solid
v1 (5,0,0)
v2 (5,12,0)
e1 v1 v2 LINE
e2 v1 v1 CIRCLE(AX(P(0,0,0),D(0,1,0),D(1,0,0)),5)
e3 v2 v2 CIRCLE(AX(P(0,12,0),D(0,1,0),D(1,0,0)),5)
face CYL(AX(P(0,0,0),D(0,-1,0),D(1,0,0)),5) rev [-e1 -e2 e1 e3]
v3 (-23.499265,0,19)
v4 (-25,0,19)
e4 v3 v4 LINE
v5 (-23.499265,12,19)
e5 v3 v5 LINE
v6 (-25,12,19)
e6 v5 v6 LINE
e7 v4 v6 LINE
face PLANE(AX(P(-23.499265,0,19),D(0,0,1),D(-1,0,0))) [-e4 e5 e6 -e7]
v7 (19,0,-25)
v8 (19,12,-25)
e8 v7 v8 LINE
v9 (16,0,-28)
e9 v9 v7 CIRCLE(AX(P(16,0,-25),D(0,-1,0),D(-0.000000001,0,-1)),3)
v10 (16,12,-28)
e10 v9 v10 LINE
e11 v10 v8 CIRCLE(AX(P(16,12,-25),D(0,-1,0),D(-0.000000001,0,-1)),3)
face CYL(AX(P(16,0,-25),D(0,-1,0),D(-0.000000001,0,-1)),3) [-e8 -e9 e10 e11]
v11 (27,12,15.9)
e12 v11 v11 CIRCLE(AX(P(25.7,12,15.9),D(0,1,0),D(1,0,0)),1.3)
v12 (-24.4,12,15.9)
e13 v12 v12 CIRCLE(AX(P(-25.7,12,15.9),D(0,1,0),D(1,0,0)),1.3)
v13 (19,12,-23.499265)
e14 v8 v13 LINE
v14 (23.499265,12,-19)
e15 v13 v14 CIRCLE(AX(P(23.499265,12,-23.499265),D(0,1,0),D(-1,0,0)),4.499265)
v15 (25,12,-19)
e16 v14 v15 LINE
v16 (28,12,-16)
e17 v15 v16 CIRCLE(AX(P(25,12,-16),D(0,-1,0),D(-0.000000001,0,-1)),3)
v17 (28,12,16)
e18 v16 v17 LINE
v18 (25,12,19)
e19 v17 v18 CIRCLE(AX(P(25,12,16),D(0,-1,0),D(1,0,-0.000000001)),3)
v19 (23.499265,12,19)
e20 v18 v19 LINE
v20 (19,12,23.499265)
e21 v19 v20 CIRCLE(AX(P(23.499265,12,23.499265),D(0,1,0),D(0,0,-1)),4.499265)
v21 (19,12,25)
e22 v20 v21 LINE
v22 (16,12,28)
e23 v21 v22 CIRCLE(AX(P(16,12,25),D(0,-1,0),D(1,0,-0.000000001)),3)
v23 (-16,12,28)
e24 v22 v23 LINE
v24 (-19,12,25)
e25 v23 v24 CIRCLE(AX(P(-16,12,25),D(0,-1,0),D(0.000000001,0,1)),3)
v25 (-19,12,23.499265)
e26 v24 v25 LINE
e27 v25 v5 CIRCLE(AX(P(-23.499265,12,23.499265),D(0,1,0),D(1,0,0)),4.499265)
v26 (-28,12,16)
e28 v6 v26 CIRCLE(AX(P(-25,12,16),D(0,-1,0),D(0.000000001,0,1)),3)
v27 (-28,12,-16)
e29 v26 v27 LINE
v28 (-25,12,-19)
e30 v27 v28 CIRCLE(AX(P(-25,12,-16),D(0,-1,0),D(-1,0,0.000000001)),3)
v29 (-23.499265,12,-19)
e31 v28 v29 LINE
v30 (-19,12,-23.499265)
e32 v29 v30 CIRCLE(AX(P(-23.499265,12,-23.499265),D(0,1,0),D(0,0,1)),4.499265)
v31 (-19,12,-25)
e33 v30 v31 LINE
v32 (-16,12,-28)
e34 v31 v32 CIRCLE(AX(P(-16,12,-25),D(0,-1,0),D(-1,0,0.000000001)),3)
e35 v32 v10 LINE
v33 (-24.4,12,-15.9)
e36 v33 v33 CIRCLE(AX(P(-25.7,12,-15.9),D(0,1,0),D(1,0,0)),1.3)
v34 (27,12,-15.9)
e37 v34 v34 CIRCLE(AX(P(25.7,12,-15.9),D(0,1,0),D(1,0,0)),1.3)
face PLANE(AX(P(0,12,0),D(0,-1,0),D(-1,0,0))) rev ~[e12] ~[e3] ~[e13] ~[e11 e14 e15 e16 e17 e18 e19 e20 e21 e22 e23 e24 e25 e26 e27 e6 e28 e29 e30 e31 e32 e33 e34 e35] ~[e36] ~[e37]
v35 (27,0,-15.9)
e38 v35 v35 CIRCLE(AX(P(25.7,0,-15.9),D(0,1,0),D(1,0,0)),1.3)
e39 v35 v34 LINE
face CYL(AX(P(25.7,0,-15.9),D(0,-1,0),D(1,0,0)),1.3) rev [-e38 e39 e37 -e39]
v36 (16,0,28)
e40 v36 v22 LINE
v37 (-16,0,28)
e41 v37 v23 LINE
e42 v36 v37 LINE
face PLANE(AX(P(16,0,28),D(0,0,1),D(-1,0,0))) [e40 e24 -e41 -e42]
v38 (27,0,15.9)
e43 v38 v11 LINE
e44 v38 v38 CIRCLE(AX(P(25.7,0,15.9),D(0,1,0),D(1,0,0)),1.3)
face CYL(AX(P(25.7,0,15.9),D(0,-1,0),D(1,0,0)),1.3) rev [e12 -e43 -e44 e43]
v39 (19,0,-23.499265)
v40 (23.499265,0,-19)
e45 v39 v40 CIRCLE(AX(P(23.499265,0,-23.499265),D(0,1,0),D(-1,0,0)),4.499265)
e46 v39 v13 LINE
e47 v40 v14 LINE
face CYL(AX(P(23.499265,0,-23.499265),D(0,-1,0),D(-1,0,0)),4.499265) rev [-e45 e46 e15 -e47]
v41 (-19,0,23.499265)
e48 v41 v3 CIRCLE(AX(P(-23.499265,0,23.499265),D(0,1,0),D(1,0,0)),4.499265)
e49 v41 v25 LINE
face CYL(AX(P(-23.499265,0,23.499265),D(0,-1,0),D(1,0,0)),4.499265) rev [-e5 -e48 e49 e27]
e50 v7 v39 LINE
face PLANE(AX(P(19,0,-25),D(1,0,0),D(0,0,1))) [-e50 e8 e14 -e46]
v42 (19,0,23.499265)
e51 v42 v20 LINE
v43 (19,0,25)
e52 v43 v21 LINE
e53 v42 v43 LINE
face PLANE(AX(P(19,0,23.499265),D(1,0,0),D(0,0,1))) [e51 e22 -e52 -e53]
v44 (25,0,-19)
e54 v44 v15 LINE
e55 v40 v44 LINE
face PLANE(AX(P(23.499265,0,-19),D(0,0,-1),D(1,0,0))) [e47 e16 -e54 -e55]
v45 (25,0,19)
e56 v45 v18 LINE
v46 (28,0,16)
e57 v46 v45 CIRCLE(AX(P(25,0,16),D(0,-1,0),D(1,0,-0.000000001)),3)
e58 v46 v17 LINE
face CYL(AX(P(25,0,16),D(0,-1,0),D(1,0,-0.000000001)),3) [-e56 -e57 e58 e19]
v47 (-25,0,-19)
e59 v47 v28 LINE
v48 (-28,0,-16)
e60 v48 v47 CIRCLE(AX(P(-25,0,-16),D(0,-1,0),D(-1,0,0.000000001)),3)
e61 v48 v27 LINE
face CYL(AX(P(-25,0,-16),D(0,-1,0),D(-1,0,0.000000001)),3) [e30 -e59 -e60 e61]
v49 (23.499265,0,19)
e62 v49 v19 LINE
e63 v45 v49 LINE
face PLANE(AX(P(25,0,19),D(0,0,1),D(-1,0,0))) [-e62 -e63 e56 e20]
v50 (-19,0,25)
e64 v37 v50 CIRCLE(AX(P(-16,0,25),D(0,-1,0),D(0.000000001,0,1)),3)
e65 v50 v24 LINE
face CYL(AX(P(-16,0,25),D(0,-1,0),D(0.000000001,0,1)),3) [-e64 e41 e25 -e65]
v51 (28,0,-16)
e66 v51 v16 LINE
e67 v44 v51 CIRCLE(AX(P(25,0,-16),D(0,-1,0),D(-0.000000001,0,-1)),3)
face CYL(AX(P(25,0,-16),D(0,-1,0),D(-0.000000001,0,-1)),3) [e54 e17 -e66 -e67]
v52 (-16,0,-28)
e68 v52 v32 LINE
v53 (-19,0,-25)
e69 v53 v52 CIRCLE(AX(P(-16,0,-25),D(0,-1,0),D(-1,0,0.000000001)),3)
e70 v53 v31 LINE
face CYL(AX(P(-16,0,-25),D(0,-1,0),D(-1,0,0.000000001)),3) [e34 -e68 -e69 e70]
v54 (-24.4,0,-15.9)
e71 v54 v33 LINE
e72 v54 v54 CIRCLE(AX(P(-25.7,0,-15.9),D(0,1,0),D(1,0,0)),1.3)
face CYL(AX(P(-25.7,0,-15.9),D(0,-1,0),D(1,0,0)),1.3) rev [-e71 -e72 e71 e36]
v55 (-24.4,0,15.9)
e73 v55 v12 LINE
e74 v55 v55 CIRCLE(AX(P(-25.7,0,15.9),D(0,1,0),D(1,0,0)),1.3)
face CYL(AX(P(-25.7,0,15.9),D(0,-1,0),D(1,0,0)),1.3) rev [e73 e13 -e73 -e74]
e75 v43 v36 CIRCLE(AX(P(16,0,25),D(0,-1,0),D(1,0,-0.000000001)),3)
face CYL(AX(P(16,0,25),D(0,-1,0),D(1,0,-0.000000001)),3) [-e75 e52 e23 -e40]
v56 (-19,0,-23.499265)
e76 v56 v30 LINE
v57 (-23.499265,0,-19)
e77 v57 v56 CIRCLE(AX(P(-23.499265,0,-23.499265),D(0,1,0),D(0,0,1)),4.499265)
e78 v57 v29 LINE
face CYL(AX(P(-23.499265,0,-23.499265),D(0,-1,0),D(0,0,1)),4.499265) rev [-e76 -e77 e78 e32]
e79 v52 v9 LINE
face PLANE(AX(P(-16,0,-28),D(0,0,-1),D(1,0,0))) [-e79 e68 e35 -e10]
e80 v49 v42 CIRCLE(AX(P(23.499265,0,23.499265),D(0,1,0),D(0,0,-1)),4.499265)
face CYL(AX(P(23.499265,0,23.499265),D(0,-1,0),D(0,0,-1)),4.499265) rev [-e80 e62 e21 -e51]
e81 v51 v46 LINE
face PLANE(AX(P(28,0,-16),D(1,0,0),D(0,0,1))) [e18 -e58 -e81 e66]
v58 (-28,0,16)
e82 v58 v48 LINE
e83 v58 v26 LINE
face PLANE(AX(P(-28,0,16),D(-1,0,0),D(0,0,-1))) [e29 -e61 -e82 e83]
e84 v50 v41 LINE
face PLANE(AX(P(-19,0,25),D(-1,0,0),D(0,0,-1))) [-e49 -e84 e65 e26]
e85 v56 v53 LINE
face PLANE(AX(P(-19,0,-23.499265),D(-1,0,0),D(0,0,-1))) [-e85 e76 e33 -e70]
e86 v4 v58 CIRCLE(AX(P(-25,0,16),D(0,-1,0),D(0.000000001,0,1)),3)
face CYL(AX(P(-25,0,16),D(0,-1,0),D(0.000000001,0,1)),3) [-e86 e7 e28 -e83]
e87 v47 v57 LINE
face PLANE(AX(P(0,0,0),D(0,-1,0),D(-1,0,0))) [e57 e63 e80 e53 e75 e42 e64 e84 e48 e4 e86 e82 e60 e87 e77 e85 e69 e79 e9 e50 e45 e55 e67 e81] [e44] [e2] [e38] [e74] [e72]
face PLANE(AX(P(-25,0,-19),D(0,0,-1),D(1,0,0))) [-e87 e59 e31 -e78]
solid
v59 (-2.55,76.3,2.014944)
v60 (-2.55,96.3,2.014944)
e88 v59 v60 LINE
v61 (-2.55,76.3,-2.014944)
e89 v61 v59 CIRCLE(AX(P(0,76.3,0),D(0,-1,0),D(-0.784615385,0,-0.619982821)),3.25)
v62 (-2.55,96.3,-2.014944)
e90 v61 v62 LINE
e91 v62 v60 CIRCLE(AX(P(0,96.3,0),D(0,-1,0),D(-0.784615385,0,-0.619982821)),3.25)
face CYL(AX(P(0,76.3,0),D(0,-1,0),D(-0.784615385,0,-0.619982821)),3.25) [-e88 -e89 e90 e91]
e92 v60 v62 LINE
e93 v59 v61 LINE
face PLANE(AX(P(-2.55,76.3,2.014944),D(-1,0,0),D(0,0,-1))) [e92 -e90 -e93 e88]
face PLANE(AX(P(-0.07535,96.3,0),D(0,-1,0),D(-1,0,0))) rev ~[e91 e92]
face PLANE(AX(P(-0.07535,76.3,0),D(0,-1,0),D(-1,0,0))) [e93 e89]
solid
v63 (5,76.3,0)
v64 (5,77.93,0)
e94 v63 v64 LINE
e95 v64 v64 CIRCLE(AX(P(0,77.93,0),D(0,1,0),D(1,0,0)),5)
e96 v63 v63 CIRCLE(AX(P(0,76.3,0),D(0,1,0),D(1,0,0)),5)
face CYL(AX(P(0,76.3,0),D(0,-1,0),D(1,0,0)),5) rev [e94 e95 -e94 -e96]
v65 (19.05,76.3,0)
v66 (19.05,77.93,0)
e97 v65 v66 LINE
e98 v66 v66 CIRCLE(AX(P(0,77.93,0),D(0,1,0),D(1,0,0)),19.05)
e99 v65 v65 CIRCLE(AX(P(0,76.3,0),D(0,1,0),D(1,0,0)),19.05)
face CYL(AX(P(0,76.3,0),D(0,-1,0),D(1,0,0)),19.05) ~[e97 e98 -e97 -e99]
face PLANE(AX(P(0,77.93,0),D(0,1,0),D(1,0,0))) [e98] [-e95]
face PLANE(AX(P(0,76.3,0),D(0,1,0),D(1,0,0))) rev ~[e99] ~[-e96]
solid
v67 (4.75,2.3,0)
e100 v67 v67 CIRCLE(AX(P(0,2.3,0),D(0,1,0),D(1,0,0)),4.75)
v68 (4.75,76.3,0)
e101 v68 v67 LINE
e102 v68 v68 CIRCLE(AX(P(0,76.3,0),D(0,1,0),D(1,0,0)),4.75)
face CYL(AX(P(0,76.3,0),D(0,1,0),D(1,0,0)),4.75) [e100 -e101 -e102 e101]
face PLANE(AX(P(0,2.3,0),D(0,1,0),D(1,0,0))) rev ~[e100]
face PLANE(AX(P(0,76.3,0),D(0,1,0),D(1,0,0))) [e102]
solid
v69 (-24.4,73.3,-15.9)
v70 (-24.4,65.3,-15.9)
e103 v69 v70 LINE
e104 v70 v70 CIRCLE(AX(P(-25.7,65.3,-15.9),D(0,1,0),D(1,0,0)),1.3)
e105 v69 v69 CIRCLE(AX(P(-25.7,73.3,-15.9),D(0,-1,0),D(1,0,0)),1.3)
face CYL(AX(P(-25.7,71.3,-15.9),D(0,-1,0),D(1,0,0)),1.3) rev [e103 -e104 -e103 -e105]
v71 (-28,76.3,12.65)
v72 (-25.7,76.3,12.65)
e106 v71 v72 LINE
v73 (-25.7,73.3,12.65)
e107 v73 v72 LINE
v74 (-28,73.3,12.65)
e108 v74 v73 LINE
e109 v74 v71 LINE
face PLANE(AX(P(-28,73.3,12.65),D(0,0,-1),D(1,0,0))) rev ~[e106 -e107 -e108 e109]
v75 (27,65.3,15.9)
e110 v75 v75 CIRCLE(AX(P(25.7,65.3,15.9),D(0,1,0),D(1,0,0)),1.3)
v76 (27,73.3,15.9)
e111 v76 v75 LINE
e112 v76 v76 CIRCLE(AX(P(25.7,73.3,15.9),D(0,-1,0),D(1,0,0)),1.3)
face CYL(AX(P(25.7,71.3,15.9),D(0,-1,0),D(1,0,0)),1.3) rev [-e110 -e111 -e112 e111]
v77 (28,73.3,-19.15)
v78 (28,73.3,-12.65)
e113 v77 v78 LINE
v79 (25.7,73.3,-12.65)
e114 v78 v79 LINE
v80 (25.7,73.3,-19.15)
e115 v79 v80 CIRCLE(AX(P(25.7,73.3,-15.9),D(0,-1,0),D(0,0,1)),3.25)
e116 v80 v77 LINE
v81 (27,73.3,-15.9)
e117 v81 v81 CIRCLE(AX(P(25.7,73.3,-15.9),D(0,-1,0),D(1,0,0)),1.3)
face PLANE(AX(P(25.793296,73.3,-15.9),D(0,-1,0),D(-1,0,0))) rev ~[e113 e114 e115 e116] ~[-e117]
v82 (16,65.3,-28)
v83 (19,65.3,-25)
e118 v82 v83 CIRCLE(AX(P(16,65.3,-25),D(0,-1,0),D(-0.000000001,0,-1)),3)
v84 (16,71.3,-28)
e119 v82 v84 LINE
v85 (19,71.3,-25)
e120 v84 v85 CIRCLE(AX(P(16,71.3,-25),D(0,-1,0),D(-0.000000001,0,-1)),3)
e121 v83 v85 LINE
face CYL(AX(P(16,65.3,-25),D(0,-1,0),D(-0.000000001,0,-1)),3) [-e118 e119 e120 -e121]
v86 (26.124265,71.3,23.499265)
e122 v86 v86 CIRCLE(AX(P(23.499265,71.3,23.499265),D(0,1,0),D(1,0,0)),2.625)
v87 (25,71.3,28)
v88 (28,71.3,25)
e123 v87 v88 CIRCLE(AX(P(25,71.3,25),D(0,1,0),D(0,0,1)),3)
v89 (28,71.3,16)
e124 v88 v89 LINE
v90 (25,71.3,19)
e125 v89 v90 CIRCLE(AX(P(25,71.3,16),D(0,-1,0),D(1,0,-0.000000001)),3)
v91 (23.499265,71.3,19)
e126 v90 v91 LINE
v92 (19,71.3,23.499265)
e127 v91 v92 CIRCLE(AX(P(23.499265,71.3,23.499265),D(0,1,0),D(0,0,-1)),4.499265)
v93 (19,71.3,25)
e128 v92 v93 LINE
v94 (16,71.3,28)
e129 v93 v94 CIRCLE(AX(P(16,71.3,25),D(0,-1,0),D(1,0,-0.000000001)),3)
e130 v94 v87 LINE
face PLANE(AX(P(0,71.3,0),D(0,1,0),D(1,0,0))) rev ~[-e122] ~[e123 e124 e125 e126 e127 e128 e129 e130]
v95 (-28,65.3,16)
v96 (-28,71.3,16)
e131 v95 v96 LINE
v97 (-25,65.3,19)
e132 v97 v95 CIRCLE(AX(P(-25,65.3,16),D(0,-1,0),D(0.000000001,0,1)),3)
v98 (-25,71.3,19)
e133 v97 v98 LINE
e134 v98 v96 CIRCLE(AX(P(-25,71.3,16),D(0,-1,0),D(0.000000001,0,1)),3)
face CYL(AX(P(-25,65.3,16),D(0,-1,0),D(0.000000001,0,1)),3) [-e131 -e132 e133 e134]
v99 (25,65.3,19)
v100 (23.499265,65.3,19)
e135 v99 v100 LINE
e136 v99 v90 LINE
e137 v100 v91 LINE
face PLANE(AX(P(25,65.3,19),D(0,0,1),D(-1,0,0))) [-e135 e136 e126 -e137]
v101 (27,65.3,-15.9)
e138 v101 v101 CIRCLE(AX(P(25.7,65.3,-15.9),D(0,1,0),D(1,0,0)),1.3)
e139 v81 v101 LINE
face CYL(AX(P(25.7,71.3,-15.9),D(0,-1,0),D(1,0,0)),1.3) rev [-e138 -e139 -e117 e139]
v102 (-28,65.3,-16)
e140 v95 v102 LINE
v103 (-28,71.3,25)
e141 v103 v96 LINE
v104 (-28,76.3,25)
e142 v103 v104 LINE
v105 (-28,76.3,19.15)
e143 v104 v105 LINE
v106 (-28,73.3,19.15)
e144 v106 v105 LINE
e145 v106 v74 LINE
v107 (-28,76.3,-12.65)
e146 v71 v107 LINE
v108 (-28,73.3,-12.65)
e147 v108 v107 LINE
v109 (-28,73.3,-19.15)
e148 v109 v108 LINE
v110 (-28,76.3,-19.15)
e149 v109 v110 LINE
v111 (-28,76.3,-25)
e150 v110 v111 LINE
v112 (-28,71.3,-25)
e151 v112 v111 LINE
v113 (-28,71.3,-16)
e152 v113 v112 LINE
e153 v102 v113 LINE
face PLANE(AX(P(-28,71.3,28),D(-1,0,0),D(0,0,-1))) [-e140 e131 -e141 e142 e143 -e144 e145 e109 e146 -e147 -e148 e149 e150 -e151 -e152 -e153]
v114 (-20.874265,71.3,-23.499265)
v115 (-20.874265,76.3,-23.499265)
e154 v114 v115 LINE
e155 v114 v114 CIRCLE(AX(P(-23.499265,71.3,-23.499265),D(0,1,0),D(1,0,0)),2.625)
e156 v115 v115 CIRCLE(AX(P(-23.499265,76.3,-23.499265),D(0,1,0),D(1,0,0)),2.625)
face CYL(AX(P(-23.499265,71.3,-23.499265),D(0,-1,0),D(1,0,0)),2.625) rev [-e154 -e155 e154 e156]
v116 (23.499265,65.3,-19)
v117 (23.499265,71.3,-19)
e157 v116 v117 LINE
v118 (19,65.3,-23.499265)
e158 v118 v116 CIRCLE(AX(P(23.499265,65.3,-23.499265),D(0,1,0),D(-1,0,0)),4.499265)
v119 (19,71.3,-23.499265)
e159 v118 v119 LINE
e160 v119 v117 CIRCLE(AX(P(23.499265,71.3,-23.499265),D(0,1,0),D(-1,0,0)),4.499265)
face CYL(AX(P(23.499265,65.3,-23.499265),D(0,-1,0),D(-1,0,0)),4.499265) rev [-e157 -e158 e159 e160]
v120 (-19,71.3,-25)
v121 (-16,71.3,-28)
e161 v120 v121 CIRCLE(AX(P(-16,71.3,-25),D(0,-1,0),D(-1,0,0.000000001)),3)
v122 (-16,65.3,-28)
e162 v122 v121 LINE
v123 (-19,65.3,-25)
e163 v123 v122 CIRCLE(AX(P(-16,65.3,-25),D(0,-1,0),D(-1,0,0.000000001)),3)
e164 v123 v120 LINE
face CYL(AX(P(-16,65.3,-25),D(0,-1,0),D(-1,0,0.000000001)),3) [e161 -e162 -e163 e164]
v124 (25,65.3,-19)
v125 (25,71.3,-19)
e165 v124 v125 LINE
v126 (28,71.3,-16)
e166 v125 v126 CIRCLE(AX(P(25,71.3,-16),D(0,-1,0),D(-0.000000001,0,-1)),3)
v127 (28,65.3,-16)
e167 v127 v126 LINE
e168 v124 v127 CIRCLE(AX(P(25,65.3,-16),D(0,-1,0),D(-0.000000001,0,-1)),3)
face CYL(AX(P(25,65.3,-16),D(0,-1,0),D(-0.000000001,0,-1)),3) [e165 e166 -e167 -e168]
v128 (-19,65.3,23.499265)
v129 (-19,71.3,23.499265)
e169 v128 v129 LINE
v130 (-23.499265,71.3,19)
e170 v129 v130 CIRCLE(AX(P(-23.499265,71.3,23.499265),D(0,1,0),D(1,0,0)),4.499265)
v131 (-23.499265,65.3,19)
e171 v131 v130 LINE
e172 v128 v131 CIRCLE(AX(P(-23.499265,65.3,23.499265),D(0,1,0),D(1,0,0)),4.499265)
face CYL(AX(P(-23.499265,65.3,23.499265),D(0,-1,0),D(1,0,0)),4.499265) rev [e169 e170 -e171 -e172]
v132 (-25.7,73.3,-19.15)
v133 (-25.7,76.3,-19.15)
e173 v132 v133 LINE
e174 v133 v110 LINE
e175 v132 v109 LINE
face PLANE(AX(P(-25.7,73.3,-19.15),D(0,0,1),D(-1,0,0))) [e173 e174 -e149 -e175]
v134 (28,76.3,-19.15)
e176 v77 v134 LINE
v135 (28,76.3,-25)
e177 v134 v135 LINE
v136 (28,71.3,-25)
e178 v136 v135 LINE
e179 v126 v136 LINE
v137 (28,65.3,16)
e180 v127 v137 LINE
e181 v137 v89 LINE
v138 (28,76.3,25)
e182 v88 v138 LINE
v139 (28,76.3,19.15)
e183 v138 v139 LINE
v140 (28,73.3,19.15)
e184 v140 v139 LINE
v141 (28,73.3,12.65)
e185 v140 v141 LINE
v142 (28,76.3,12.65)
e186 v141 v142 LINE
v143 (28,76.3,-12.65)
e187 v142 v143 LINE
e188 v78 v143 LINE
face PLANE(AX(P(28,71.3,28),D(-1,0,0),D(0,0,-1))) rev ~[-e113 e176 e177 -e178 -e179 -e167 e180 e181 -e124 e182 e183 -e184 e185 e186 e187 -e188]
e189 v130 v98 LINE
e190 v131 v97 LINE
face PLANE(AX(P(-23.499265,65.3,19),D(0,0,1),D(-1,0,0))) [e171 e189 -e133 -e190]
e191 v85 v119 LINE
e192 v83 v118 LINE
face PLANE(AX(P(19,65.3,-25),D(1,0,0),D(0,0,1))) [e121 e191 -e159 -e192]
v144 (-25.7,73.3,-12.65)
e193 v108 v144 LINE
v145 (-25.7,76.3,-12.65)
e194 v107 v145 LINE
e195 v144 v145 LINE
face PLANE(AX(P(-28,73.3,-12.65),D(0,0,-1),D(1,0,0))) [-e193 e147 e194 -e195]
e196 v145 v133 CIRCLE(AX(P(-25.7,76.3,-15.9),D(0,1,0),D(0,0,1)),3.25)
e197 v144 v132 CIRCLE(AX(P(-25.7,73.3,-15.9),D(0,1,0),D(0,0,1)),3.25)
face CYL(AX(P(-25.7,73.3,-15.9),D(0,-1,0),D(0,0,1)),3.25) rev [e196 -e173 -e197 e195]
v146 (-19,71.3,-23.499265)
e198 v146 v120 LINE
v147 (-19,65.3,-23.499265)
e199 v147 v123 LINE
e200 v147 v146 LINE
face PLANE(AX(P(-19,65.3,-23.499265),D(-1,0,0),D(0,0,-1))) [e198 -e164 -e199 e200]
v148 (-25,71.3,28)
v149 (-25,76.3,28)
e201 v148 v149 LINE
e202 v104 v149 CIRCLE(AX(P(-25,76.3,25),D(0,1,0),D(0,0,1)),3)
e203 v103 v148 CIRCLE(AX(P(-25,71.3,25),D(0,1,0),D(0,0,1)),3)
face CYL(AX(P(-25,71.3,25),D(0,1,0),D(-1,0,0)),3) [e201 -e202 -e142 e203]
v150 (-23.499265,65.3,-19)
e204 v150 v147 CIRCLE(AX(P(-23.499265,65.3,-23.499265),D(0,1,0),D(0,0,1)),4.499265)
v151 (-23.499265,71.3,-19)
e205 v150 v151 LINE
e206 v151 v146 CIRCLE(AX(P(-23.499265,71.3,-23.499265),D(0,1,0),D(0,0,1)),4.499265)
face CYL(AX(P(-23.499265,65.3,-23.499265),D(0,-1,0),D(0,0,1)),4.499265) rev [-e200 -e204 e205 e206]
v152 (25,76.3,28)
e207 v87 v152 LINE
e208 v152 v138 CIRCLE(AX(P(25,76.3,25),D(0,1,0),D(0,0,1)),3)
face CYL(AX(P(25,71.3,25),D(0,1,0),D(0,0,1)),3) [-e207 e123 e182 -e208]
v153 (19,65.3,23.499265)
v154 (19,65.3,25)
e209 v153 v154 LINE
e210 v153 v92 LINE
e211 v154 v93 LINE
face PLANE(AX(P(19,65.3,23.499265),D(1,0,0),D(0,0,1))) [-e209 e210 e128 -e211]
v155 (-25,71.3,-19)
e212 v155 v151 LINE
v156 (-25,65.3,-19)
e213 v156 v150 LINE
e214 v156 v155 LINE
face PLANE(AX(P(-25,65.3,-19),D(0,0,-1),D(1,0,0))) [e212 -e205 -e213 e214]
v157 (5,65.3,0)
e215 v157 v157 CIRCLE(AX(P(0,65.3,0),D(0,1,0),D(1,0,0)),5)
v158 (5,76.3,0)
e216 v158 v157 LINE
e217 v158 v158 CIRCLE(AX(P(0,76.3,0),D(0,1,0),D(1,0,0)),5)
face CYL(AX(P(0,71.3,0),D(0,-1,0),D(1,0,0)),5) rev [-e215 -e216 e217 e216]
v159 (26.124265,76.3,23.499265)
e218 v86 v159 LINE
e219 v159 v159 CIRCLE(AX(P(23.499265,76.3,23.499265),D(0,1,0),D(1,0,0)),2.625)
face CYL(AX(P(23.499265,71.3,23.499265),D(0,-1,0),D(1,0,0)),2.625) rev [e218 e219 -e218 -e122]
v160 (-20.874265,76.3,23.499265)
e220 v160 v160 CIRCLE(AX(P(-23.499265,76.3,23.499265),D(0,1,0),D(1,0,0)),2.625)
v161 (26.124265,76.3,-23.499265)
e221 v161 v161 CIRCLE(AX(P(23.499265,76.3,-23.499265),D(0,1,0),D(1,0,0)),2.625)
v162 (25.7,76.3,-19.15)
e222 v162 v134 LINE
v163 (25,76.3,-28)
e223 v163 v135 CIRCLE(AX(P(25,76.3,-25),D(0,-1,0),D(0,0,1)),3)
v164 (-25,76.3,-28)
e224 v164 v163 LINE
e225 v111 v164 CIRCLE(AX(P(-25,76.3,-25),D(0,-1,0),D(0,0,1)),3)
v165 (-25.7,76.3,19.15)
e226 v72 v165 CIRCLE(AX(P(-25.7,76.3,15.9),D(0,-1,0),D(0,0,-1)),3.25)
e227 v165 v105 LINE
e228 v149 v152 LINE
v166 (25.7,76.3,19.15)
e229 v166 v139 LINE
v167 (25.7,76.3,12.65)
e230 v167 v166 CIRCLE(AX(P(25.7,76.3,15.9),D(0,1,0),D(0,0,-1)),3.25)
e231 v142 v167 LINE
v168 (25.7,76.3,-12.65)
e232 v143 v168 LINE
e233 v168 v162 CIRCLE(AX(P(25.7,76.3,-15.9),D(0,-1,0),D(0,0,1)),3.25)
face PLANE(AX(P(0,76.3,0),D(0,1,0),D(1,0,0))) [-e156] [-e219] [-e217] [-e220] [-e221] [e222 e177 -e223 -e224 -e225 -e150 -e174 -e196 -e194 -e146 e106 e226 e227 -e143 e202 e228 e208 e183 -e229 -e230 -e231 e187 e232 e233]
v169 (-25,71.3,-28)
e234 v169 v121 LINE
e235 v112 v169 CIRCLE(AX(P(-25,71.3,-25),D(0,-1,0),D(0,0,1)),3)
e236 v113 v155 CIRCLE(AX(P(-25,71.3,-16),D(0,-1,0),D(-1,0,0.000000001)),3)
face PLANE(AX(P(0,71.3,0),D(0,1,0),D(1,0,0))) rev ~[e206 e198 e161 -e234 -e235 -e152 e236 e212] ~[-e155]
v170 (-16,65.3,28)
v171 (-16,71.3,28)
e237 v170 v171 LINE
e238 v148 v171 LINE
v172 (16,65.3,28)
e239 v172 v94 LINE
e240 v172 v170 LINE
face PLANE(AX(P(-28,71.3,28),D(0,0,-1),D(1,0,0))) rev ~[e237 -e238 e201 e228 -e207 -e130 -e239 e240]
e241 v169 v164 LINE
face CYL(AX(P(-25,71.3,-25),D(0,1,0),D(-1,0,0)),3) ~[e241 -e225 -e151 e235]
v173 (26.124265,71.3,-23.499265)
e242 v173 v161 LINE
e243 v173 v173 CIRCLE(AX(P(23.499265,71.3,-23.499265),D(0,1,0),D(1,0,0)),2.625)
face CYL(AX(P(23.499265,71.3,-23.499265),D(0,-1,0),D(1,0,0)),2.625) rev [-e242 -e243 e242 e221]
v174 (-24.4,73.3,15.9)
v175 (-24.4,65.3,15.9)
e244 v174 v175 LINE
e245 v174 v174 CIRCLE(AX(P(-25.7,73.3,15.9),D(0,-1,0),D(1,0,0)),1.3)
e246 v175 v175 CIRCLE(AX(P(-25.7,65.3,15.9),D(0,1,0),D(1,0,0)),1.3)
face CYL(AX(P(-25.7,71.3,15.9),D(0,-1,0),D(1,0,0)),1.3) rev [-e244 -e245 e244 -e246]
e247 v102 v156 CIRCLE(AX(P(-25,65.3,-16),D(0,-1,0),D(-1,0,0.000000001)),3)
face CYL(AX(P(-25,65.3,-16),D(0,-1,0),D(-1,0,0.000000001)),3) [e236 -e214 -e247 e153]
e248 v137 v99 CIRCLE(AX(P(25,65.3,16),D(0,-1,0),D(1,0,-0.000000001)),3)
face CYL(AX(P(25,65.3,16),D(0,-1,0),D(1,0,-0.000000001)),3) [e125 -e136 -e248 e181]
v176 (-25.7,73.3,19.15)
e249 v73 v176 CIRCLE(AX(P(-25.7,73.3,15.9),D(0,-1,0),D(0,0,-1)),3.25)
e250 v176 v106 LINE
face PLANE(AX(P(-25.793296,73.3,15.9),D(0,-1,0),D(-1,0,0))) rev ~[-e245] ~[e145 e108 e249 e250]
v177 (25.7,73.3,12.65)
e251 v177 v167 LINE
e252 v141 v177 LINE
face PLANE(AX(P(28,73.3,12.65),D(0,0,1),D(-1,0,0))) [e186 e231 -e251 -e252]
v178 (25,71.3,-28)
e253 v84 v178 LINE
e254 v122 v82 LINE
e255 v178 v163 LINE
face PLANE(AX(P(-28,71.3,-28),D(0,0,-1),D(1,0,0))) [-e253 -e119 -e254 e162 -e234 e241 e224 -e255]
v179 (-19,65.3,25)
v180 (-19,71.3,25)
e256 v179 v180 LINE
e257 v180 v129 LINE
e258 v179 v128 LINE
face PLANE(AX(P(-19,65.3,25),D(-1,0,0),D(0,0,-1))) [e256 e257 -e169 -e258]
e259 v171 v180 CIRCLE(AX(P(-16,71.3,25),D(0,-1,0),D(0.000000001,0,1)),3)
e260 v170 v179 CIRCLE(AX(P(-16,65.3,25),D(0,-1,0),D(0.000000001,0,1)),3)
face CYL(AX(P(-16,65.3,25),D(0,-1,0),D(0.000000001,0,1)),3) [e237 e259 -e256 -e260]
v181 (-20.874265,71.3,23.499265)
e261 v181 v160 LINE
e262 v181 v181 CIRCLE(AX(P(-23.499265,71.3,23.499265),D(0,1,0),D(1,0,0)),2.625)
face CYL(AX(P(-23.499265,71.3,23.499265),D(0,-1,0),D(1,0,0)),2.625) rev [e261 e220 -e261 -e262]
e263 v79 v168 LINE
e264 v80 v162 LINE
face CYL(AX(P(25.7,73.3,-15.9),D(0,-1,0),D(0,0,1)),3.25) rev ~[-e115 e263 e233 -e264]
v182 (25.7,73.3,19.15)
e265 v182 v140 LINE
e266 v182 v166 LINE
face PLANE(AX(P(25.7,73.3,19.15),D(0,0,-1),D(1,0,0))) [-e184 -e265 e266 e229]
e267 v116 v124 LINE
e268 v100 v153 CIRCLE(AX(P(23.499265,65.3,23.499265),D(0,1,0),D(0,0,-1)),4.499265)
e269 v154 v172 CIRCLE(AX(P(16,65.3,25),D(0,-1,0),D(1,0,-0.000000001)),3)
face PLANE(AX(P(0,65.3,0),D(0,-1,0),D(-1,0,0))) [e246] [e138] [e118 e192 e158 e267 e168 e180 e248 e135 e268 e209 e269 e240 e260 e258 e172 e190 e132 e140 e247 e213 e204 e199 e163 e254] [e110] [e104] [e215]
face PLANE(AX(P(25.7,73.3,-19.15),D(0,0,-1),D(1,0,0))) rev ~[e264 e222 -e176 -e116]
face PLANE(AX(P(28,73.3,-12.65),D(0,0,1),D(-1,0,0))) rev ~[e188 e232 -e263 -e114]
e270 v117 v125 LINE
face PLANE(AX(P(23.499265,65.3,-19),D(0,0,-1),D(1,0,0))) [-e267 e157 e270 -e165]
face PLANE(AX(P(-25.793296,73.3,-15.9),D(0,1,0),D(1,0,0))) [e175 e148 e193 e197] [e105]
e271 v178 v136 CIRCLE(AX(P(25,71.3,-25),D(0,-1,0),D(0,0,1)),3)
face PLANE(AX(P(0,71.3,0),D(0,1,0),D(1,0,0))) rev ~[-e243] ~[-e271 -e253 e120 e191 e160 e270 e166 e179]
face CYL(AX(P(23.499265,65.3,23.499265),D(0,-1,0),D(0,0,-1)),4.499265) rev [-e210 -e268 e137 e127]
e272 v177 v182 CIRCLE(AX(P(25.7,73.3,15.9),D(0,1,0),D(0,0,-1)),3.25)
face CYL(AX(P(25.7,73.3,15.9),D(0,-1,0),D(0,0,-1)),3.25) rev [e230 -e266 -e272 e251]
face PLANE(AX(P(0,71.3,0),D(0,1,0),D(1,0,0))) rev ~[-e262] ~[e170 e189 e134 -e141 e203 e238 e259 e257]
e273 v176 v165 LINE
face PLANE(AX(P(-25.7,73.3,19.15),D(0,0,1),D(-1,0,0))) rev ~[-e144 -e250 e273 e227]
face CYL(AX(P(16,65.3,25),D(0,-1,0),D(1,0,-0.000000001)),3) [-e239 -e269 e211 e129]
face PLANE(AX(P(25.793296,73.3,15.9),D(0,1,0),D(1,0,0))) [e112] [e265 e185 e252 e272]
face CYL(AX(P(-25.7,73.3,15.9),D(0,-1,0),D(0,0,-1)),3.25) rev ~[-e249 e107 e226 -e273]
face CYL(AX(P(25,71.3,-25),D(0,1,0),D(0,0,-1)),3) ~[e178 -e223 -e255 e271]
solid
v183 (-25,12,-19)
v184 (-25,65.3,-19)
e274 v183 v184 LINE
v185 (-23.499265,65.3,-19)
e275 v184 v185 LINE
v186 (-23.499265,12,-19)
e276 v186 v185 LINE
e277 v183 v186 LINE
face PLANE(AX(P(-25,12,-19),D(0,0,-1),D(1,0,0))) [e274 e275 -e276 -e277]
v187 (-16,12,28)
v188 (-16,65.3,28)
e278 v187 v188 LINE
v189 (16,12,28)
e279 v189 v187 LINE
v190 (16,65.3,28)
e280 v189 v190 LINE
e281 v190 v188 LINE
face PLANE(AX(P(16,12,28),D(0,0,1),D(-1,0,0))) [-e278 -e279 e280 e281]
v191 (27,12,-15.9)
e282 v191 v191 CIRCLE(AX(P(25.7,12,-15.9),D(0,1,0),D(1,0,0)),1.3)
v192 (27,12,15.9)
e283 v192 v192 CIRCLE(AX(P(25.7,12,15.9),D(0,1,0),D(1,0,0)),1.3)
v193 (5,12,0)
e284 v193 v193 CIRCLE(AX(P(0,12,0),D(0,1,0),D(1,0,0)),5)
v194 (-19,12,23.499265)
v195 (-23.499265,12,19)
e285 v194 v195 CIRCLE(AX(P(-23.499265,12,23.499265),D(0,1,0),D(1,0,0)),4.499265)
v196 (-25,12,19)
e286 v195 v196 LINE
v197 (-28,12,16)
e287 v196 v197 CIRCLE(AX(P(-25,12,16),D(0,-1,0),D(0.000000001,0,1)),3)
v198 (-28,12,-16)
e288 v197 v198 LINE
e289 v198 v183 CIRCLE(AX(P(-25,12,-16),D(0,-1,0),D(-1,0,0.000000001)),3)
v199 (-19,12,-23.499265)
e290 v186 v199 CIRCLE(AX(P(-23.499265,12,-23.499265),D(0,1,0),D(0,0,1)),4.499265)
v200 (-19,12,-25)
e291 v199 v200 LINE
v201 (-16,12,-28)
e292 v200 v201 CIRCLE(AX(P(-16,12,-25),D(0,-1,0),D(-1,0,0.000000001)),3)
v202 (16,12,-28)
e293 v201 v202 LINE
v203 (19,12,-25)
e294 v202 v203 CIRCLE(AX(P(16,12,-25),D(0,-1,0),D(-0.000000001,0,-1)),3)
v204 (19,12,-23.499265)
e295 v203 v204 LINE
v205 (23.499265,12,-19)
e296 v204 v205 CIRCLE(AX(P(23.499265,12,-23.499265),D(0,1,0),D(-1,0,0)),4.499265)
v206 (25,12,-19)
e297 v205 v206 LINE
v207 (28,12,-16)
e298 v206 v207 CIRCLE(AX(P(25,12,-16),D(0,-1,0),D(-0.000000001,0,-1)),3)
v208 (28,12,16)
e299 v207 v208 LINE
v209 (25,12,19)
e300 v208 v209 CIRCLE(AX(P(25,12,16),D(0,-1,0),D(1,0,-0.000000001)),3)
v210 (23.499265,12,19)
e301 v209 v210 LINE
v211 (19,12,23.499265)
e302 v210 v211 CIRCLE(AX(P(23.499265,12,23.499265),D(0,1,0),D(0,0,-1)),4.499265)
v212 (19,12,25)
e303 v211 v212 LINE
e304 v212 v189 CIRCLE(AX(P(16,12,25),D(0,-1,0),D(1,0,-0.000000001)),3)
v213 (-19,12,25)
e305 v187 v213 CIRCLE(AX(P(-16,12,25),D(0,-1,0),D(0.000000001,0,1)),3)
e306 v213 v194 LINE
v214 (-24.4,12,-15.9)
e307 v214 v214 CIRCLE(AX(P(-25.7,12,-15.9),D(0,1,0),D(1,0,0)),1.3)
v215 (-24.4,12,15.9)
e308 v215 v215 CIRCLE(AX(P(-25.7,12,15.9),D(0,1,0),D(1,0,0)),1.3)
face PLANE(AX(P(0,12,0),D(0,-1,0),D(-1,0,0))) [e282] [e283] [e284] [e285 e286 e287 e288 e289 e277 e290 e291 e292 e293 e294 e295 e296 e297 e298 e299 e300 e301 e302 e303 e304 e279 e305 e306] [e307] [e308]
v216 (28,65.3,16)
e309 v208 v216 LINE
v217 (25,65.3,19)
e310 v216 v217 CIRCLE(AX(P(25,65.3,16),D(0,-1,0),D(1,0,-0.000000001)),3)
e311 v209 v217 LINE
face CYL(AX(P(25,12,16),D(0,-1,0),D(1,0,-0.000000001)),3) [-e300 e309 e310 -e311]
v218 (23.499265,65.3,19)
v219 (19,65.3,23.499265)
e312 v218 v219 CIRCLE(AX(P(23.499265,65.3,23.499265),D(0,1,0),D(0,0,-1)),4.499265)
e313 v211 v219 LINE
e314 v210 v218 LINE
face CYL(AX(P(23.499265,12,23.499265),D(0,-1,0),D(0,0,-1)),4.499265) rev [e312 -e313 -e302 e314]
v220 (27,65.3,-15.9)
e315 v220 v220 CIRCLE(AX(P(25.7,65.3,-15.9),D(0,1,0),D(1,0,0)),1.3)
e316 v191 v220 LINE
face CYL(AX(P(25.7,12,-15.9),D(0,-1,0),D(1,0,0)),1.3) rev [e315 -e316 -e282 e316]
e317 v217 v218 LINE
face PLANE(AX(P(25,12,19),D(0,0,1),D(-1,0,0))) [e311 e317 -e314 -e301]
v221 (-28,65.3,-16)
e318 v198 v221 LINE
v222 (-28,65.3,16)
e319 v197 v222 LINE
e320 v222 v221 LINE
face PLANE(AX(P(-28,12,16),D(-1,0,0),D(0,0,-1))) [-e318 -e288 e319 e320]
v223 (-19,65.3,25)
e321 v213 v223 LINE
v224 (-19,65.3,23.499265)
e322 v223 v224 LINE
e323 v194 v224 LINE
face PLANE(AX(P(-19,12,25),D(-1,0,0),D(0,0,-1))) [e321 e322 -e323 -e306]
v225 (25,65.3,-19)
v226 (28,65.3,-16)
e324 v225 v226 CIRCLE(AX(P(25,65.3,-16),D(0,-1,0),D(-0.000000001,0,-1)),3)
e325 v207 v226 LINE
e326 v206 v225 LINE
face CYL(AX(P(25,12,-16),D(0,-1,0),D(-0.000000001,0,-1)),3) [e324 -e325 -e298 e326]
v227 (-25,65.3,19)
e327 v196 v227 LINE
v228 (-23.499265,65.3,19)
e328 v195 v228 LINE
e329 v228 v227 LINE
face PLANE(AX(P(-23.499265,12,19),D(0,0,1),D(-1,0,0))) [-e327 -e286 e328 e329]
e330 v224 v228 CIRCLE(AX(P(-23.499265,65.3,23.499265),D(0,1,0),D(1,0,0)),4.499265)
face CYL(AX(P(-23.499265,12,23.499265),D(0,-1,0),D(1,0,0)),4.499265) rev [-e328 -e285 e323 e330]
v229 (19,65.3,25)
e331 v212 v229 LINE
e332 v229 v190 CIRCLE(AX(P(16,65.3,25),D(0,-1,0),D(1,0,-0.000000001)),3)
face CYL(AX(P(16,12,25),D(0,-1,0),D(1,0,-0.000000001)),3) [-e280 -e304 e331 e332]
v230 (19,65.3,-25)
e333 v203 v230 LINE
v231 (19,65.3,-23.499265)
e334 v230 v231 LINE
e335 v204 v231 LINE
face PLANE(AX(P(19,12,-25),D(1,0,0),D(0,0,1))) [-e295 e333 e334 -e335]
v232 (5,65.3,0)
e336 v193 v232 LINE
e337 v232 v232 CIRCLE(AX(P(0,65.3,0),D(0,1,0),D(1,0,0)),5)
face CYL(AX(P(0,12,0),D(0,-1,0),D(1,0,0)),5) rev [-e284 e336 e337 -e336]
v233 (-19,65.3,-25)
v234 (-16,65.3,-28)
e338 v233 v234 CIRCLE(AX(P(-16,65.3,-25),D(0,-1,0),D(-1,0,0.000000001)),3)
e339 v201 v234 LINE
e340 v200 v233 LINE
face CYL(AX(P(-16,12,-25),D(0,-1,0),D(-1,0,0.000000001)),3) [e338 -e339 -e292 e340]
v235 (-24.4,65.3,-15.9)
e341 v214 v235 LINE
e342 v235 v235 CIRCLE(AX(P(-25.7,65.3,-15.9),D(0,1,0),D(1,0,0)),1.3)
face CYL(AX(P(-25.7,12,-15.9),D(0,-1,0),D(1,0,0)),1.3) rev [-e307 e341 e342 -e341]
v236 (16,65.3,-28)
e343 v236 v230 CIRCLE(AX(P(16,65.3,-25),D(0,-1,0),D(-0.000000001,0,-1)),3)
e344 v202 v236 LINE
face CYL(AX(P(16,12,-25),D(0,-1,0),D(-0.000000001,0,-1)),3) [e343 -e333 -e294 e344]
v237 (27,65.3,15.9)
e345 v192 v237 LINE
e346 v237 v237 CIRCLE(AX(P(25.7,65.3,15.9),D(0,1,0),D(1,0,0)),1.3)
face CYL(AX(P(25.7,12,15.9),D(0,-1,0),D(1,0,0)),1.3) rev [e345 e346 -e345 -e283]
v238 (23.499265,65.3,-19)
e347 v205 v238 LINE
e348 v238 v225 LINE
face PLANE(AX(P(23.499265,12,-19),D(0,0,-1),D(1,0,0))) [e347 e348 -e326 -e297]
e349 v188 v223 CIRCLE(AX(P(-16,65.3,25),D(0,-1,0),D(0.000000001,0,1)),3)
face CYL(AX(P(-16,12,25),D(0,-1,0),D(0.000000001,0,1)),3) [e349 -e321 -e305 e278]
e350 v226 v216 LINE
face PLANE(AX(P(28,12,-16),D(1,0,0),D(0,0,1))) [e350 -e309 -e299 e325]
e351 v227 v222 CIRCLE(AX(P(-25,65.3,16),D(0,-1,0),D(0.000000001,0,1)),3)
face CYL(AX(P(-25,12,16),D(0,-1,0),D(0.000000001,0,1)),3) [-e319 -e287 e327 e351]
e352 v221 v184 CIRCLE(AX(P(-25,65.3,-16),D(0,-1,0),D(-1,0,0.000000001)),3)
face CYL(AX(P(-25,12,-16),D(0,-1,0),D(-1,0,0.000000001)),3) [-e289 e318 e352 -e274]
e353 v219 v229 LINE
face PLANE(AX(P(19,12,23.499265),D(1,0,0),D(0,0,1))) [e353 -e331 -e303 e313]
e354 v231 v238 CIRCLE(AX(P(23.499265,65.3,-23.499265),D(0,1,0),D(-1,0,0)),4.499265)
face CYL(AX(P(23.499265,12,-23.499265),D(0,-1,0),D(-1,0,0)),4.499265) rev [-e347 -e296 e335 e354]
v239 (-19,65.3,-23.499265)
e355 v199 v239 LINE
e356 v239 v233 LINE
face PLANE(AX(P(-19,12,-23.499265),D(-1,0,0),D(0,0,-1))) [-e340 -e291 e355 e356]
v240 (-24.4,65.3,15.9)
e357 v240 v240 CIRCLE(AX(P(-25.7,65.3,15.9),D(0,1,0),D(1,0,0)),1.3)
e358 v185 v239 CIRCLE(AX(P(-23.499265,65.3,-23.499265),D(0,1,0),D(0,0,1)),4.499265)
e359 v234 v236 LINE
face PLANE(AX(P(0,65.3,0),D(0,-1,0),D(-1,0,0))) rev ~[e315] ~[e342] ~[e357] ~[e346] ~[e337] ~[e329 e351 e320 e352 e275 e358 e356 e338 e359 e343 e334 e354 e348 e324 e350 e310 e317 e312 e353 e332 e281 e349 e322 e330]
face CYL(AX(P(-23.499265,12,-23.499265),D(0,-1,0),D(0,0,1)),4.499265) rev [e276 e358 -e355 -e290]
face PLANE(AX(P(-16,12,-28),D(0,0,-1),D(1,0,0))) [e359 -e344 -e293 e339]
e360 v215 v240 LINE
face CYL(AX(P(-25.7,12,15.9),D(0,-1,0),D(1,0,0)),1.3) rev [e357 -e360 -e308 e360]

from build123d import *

# Parameters (mm, degrees)
SKETCH2_R           = 1.3
SKETCH2_R_2         = 5
BOSS_EXTRUDE2_DEPTH = 12
BOSS_EXTRUDE3_START = 12
SKETCH2_5_R         = 1.3
SKETCH2_5_R_2       = 5
BOSS_EXTRUDE3_DEPTH = 53.3
BOSS_EXTRUDE4_START = 65.3
SKETCH2_6_R         = 1.3
SKETCH2_6_R_2       = 5
BOSS_EXTRUDE4_DEPTH = 6
SKETCH4_W           = 56
SKETCH4_H           = 56
SKETCH4_R           = 2.625
SKETCH4_R_2         = 5
SKETCH4_R_3         = 1.3
BOSS_EXTRUDE5_DEPTH = 5
CUT_EXTRUDE1_START  = 2
CUT_EXTRUDE1_DEPTH  = 3
BOSS_EXTRUDE6_DEPTH = 20
SKETCH7_R           = 4.75
BOSS_EXTRUDE7_DEPTH = 74
SKETCH8_R           = 19.05
SKETCH8_R_2         = 5
BOSS_EXTRUDE8_DEPTH = 1.63
FILLET1_R           = 3


with BuildPart() as part:
    # Sketch2 → Boss-Extrude2 (new body)
    with BuildSketch(Plane(origin=(0, 0, 0), x_dir=(1, 0, 0), z_dir=(0, 1, 0))):
        with BuildLine():
            Line((-16, 28), (16, 28))
            ThreePointArc((16, 28), (18.121320344, 27.121320344), (19, 25))
            Line((19, 25), (19, 23.499265338))
            ThreePointArc((19, 23.499265338), (20.317804307, 20.317804307), (23.499265338, 19))
            Line((23.499265338, 19), (25, 19))
            ThreePointArc((25, 19), (27.121320344, 18.121320344), (28, 16))
            Line((28, 16), (28, -16))
            ThreePointArc((28, -16), (27.121320344, -18.121320344), (25, -19))
            Line((25, -19), (23.499265338, -19))
            ThreePointArc((23.499265338, -19), (20.317804307, -20.317804307), (19, -23.499265338))
            Line((19, -23.499265338), (19, -25))
            ThreePointArc((19, -25), (18.121320344, -27.121320344), (16, -28))
            Line((16, -28), (-16, -28))
            ThreePointArc((-16, -28), (-18.121320344, -27.121320344), (-19, -25))
            Line((-19, -25), (-19, -23.499265338))
            ThreePointArc((-19, -23.499265338), (-20.317804307, -20.317804307), (-23.499265338, -19))
            Line((-23.499265338, -19), (-25, -19))
            ThreePointArc((-25, -19), (-27.121320344, -18.121320344), (-28, -16))
            Line((-28, -16), (-28, 16))
            ThreePointArc((-28, 16), (-27.121320344, 18.121320344), (-25, 19))
            Line((-25, 19), (-23.499265338, 19))
            ThreePointArc((-23.499265338, 19), (-20.317804307, 20.317804307), (-19, 23.499265338))
            Line((-19, 23.499265338), (-19, 25))
            ThreePointArc((-19, 25), (-18.121320344, 27.121320344), (-16, 28))
        make_face()
        with Locations((-25.7, 15.9)):
            Circle(SKETCH2_R, mode=Mode.SUBTRACT)
        with Locations((25.7, 15.9)):
            Circle(SKETCH2_R, mode=Mode.SUBTRACT)
        with Locations((-25.7, -15.9)):
            Circle(SKETCH2_R, mode=Mode.SUBTRACT)
        with Locations((25.7, -15.9)):
            Circle(SKETCH2_R, mode=Mode.SUBTRACT)
        Circle(SKETCH2_R_2, mode=Mode.SUBTRACT)
    extrude(amount=BOSS_EXTRUDE2_DEPTH)


with BuildPart() as body_2:
    # Sketch2_5 → Boss-Extrude3 (new body)
    with BuildSketch(Plane(origin=(0, 0, 0), x_dir=(1, 0, 0), z_dir=(0, 1, 0)).offset(BOSS_EXTRUDE3_START)):
        with BuildLine():
            Line((-16, 28), (16, 28))
            ThreePointArc((16, 28), (18.121320344, 27.121320344), (19, 25))
            Line((19, 25), (19, 23.499265338))
            ThreePointArc((19, 23.499265338), (20.317804307, 20.317804307), (23.499265338, 19))
            Line((23.499265338, 19), (25, 19))
            ThreePointArc((25, 19), (27.121320344, 18.121320344), (28, 16))
            Line((28, 16), (28, -16))
            ThreePointArc((28, -16), (27.121320344, -18.121320344), (25, -19))
            Line((25, -19), (23.499265338, -19))
            ThreePointArc((23.499265338, -19), (20.317804307, -20.317804307), (19, -23.499265338))
            Line((19, -23.499265338), (19, -25))
            ThreePointArc((19, -25), (18.121320344, -27.121320344), (16, -28))
            Line((16, -28), (-16, -28))
            ThreePointArc((-16, -28), (-18.121320344, -27.121320344), (-19, -25))
            Line((-19, -25), (-19, -23.499265338))
            ThreePointArc((-19, -23.499265338), (-20.317804307, -20.317804307), (-23.499265338, -19))
            Line((-23.499265338, -19), (-25, -19))
            ThreePointArc((-25, -19), (-27.121320344, -18.121320344), (-28, -16))
            Line((-28, -16), (-28, 16))
            ThreePointArc((-28, 16), (-27.121320344, 18.121320344), (-25, 19))
            Line((-25, 19), (-23.499265338, 19))
            ThreePointArc((-23.499265338, 19), (-20.317804307, 20.317804307), (-19, 23.499265338))
            Line((-19, 23.499265338), (-19, 25))
            ThreePointArc((-19, 25), (-18.121320344, 27.121320344), (-16, 28))
        make_face()
        with Locations((-25.7, 15.9)):
            Circle(SKETCH2_5_R, mode=Mode.SUBTRACT)
        with Locations((25.7, 15.9)):
            Circle(SKETCH2_5_R, mode=Mode.SUBTRACT)
        with Locations((-25.7, -15.9)):
            Circle(SKETCH2_5_R, mode=Mode.SUBTRACT)
        with Locations((25.7, -15.9)):
            Circle(SKETCH2_5_R, mode=Mode.SUBTRACT)
        Circle(SKETCH2_5_R_2, mode=Mode.SUBTRACT)
    extrude(amount=BOSS_EXTRUDE3_DEPTH)


with BuildPart() as body_3:
    # Sketch2_6 → Boss-Extrude4 (new body)
    with BuildSketch(Plane(origin=(0, 0, 0), x_dir=(1, 0, 0), z_dir=(0, 1, 0)).offset(BOSS_EXTRUDE4_START)):
        with BuildLine():
            Line((-16, 28), (16, 28))
            ThreePointArc((16, 28), (18.121320344, 27.121320344), (19, 25))
            Line((19, 25), (19, 23.499265338))
            ThreePointArc((19, 23.499265338), (20.317804307, 20.317804307), (23.499265338, 19))
            Line((23.499265338, 19), (25, 19))
            ThreePointArc((25, 19), (27.121320344, 18.121320344), (28, 16))
            Line((28, 16), (28, -16))
            ThreePointArc((28, -16), (27.121320344, -18.121320344), (25, -19))
            Line((25, -19), (23.499265338, -19))
            ThreePointArc((23.499265338, -19), (20.317804307, -20.317804307), (19, -23.499265338))
            Line((19, -23.499265338), (19, -25))
            ThreePointArc((19, -25), (18.121320344, -27.121320344), (16, -28))
            Line((16, -28), (-16, -28))
            ThreePointArc((-16, -28), (-18.121320344, -27.121320344), (-19, -25))
            Line((-19, -25), (-19, -23.499265338))
            ThreePointArc((-19, -23.499265338), (-20.317804307, -20.317804307), (-23.499265338, -19))
            Line((-23.499265338, -19), (-25, -19))
            ThreePointArc((-25, -19), (-27.121320344, -18.121320344), (-28, -16))
            Line((-28, -16), (-28, 16))
            ThreePointArc((-28, 16), (-27.121320344, 18.121320344), (-25, 19))
            Line((-25, 19), (-23.499265338, 19))
            ThreePointArc((-23.499265338, 19), (-20.317804307, 20.317804307), (-19, 23.499265338))
            Line((-19, 23.499265338), (-19, 25))
            ThreePointArc((-19, 25), (-18.121320344, 27.121320344), (-16, 28))
        make_face()
        with Locations((-25.7, 15.9)):
            Circle(SKETCH2_6_R, mode=Mode.SUBTRACT)
        with Locations((25.7, 15.9)):
            Circle(SKETCH2_6_R, mode=Mode.SUBTRACT)
        with Locations((-25.7, -15.9)):
            Circle(SKETCH2_6_R, mode=Mode.SUBTRACT)
        with Locations((25.7, -15.9)):
            Circle(SKETCH2_6_R, mode=Mode.SUBTRACT)
        Circle(SKETCH2_6_R_2, mode=Mode.SUBTRACT)
    extrude(amount=BOSS_EXTRUDE4_DEPTH)

    # Sketch4 → Boss-Extrude5 (add)
    with BuildSketch(Plane(origin=(0, 71.3, 0), x_dir=(1, 0, 0), z_dir=(0, 1, 0))):
        Rectangle(SKETCH4_W, SKETCH4_H)
        with Locations((-23.499265338, -23.499265338)):
            Circle(SKETCH4_R, mode=Mode.SUBTRACT)
        with Locations((23.499265338, -23.499265338)):
            Circle(SKETCH4_R, mode=Mode.SUBTRACT)
        with Locations((-23.499265338, 23.499265338)):
            Circle(SKETCH4_R, mode=Mode.SUBTRACT)
        Circle(SKETCH4_R_2, mode=Mode.SUBTRACT)
        with Locations((23.499265338, 23.499265338)):
            Circle(SKETCH4_R, mode=Mode.SUBTRACT)
        with Locations((-25.7, 15.9)):
            Circle(SKETCH4_R_3, mode=Mode.SUBTRACT)
        with Locations((25.7, 15.9)):
            Circle(SKETCH4_R_3, mode=Mode.SUBTRACT)
        with Locations((-25.7, -15.9)):
            Circle(SKETCH4_R_3, mode=Mode.SUBTRACT)
        with Locations((25.7, -15.9)):
            Circle(SKETCH4_R_3, mode=Mode.SUBTRACT)
    extrude(amount=BOSS_EXTRUDE5_DEPTH)

    # Sketch5 → Cut-Extrude1 (cut)
    with BuildSketch(Plane(origin=(0, 71.3, 0), x_dir=(1, 0, 0), z_dir=(0, 1, 0)).offset(CUT_EXTRUDE1_START)):
        with BuildLine():
            Line((-28, 19.15), (-28, 12.65))
            Line((-28, 12.65), (-25.7, 12.65))
            ThreePointArc((-25.7, 12.65), (-22.45, 15.9), (-25.7, 19.15))
            Line((-25.7, 19.15), (-28, 19.15))
        make_face()
        with BuildLine():
            Line((25.7, 19.15), (28, 19.15))
            Line((28, 19.15), (28, 12.65))
            Line((28, 12.65), (25.7, 12.65))
            ThreePointArc((25.7, 12.65), (22.45, 15.9), (25.7, 19.15))
        make_face()
        with BuildLine():
            Line((28, -19.15), (28, -12.65))
            Line((28, -12.65), (25.7, -12.65))
            ThreePointArc((25.7, -12.65), (22.45, -15.9), (25.7, -19.15))
            Line((25.7, -19.15), (28, -19.15))
        make_face()
        with BuildLine():
            Line((-25.7, -19.15), (-28, -19.15))
            Line((-28, -19.15), (-28, -12.65))
            Line((-28, -12.65), (-25.7, -12.65))
            ThreePointArc((-25.7, -12.65), (-22.45, -15.9), (-25.7, -19.15))
        make_face()
    extrude(amount=CUT_EXTRUDE1_DEPTH, mode=Mode.SUBTRACT)

    # Fillet1
    fillet1_edges = [body_3.edges().sort_by_distance(p)[0] for p in [
        (-28, 73.8, -28),
        (-28, 73.8, 28),
        (28, 73.8, 28),
        (28, 73.8, -28),
    ]]
    fillet(fillet1_edges, radius=FILLET1_R)


with BuildPart() as body_4:
    # Sketch6 → Boss-Extrude6 (new body)
    with BuildSketch(Plane(origin=(0, 76.3, 0), x_dir=(1, 0, 0), z_dir=(0, 1, 0))):
        with BuildLine():
            Line((-2.55, -2.014944168), (-2.55, 2.014944168))
            ThreePointArc((-2.55, 2.014944168), (3.25, 0), (-2.55, -2.014944168))
        make_face()
    extrude(amount=BOSS_EXTRUDE6_DEPTH)


with BuildPart() as body_5:
    # Sketch7 → Boss-Extrude7 (new body)
    with BuildSketch(Plane(origin=(0, 76.3, 0), x_dir=(1, 0, 0), z_dir=(0, 1, 0))):
        Circle(SKETCH7_R)
    extrude(amount=-BOSS_EXTRUDE7_DEPTH)


with BuildPart() as body_6:
    # Sketch8 → Boss-Extrude8 (new body)
    with BuildSketch(Plane(origin=(0, 76.3, 0), x_dir=(1, 0, 0), z_dir=(0, 1, 0))):
        Circle(SKETCH8_R)
        Circle(SKETCH8_R_2, mode=Mode.SUBTRACT)
    extrude(amount=BOSS_EXTRUDE8_DEPTH)


solid = Compound([part.part, body_2.part, body_3.part, body_4.part, body_5.part, body_6.part])
